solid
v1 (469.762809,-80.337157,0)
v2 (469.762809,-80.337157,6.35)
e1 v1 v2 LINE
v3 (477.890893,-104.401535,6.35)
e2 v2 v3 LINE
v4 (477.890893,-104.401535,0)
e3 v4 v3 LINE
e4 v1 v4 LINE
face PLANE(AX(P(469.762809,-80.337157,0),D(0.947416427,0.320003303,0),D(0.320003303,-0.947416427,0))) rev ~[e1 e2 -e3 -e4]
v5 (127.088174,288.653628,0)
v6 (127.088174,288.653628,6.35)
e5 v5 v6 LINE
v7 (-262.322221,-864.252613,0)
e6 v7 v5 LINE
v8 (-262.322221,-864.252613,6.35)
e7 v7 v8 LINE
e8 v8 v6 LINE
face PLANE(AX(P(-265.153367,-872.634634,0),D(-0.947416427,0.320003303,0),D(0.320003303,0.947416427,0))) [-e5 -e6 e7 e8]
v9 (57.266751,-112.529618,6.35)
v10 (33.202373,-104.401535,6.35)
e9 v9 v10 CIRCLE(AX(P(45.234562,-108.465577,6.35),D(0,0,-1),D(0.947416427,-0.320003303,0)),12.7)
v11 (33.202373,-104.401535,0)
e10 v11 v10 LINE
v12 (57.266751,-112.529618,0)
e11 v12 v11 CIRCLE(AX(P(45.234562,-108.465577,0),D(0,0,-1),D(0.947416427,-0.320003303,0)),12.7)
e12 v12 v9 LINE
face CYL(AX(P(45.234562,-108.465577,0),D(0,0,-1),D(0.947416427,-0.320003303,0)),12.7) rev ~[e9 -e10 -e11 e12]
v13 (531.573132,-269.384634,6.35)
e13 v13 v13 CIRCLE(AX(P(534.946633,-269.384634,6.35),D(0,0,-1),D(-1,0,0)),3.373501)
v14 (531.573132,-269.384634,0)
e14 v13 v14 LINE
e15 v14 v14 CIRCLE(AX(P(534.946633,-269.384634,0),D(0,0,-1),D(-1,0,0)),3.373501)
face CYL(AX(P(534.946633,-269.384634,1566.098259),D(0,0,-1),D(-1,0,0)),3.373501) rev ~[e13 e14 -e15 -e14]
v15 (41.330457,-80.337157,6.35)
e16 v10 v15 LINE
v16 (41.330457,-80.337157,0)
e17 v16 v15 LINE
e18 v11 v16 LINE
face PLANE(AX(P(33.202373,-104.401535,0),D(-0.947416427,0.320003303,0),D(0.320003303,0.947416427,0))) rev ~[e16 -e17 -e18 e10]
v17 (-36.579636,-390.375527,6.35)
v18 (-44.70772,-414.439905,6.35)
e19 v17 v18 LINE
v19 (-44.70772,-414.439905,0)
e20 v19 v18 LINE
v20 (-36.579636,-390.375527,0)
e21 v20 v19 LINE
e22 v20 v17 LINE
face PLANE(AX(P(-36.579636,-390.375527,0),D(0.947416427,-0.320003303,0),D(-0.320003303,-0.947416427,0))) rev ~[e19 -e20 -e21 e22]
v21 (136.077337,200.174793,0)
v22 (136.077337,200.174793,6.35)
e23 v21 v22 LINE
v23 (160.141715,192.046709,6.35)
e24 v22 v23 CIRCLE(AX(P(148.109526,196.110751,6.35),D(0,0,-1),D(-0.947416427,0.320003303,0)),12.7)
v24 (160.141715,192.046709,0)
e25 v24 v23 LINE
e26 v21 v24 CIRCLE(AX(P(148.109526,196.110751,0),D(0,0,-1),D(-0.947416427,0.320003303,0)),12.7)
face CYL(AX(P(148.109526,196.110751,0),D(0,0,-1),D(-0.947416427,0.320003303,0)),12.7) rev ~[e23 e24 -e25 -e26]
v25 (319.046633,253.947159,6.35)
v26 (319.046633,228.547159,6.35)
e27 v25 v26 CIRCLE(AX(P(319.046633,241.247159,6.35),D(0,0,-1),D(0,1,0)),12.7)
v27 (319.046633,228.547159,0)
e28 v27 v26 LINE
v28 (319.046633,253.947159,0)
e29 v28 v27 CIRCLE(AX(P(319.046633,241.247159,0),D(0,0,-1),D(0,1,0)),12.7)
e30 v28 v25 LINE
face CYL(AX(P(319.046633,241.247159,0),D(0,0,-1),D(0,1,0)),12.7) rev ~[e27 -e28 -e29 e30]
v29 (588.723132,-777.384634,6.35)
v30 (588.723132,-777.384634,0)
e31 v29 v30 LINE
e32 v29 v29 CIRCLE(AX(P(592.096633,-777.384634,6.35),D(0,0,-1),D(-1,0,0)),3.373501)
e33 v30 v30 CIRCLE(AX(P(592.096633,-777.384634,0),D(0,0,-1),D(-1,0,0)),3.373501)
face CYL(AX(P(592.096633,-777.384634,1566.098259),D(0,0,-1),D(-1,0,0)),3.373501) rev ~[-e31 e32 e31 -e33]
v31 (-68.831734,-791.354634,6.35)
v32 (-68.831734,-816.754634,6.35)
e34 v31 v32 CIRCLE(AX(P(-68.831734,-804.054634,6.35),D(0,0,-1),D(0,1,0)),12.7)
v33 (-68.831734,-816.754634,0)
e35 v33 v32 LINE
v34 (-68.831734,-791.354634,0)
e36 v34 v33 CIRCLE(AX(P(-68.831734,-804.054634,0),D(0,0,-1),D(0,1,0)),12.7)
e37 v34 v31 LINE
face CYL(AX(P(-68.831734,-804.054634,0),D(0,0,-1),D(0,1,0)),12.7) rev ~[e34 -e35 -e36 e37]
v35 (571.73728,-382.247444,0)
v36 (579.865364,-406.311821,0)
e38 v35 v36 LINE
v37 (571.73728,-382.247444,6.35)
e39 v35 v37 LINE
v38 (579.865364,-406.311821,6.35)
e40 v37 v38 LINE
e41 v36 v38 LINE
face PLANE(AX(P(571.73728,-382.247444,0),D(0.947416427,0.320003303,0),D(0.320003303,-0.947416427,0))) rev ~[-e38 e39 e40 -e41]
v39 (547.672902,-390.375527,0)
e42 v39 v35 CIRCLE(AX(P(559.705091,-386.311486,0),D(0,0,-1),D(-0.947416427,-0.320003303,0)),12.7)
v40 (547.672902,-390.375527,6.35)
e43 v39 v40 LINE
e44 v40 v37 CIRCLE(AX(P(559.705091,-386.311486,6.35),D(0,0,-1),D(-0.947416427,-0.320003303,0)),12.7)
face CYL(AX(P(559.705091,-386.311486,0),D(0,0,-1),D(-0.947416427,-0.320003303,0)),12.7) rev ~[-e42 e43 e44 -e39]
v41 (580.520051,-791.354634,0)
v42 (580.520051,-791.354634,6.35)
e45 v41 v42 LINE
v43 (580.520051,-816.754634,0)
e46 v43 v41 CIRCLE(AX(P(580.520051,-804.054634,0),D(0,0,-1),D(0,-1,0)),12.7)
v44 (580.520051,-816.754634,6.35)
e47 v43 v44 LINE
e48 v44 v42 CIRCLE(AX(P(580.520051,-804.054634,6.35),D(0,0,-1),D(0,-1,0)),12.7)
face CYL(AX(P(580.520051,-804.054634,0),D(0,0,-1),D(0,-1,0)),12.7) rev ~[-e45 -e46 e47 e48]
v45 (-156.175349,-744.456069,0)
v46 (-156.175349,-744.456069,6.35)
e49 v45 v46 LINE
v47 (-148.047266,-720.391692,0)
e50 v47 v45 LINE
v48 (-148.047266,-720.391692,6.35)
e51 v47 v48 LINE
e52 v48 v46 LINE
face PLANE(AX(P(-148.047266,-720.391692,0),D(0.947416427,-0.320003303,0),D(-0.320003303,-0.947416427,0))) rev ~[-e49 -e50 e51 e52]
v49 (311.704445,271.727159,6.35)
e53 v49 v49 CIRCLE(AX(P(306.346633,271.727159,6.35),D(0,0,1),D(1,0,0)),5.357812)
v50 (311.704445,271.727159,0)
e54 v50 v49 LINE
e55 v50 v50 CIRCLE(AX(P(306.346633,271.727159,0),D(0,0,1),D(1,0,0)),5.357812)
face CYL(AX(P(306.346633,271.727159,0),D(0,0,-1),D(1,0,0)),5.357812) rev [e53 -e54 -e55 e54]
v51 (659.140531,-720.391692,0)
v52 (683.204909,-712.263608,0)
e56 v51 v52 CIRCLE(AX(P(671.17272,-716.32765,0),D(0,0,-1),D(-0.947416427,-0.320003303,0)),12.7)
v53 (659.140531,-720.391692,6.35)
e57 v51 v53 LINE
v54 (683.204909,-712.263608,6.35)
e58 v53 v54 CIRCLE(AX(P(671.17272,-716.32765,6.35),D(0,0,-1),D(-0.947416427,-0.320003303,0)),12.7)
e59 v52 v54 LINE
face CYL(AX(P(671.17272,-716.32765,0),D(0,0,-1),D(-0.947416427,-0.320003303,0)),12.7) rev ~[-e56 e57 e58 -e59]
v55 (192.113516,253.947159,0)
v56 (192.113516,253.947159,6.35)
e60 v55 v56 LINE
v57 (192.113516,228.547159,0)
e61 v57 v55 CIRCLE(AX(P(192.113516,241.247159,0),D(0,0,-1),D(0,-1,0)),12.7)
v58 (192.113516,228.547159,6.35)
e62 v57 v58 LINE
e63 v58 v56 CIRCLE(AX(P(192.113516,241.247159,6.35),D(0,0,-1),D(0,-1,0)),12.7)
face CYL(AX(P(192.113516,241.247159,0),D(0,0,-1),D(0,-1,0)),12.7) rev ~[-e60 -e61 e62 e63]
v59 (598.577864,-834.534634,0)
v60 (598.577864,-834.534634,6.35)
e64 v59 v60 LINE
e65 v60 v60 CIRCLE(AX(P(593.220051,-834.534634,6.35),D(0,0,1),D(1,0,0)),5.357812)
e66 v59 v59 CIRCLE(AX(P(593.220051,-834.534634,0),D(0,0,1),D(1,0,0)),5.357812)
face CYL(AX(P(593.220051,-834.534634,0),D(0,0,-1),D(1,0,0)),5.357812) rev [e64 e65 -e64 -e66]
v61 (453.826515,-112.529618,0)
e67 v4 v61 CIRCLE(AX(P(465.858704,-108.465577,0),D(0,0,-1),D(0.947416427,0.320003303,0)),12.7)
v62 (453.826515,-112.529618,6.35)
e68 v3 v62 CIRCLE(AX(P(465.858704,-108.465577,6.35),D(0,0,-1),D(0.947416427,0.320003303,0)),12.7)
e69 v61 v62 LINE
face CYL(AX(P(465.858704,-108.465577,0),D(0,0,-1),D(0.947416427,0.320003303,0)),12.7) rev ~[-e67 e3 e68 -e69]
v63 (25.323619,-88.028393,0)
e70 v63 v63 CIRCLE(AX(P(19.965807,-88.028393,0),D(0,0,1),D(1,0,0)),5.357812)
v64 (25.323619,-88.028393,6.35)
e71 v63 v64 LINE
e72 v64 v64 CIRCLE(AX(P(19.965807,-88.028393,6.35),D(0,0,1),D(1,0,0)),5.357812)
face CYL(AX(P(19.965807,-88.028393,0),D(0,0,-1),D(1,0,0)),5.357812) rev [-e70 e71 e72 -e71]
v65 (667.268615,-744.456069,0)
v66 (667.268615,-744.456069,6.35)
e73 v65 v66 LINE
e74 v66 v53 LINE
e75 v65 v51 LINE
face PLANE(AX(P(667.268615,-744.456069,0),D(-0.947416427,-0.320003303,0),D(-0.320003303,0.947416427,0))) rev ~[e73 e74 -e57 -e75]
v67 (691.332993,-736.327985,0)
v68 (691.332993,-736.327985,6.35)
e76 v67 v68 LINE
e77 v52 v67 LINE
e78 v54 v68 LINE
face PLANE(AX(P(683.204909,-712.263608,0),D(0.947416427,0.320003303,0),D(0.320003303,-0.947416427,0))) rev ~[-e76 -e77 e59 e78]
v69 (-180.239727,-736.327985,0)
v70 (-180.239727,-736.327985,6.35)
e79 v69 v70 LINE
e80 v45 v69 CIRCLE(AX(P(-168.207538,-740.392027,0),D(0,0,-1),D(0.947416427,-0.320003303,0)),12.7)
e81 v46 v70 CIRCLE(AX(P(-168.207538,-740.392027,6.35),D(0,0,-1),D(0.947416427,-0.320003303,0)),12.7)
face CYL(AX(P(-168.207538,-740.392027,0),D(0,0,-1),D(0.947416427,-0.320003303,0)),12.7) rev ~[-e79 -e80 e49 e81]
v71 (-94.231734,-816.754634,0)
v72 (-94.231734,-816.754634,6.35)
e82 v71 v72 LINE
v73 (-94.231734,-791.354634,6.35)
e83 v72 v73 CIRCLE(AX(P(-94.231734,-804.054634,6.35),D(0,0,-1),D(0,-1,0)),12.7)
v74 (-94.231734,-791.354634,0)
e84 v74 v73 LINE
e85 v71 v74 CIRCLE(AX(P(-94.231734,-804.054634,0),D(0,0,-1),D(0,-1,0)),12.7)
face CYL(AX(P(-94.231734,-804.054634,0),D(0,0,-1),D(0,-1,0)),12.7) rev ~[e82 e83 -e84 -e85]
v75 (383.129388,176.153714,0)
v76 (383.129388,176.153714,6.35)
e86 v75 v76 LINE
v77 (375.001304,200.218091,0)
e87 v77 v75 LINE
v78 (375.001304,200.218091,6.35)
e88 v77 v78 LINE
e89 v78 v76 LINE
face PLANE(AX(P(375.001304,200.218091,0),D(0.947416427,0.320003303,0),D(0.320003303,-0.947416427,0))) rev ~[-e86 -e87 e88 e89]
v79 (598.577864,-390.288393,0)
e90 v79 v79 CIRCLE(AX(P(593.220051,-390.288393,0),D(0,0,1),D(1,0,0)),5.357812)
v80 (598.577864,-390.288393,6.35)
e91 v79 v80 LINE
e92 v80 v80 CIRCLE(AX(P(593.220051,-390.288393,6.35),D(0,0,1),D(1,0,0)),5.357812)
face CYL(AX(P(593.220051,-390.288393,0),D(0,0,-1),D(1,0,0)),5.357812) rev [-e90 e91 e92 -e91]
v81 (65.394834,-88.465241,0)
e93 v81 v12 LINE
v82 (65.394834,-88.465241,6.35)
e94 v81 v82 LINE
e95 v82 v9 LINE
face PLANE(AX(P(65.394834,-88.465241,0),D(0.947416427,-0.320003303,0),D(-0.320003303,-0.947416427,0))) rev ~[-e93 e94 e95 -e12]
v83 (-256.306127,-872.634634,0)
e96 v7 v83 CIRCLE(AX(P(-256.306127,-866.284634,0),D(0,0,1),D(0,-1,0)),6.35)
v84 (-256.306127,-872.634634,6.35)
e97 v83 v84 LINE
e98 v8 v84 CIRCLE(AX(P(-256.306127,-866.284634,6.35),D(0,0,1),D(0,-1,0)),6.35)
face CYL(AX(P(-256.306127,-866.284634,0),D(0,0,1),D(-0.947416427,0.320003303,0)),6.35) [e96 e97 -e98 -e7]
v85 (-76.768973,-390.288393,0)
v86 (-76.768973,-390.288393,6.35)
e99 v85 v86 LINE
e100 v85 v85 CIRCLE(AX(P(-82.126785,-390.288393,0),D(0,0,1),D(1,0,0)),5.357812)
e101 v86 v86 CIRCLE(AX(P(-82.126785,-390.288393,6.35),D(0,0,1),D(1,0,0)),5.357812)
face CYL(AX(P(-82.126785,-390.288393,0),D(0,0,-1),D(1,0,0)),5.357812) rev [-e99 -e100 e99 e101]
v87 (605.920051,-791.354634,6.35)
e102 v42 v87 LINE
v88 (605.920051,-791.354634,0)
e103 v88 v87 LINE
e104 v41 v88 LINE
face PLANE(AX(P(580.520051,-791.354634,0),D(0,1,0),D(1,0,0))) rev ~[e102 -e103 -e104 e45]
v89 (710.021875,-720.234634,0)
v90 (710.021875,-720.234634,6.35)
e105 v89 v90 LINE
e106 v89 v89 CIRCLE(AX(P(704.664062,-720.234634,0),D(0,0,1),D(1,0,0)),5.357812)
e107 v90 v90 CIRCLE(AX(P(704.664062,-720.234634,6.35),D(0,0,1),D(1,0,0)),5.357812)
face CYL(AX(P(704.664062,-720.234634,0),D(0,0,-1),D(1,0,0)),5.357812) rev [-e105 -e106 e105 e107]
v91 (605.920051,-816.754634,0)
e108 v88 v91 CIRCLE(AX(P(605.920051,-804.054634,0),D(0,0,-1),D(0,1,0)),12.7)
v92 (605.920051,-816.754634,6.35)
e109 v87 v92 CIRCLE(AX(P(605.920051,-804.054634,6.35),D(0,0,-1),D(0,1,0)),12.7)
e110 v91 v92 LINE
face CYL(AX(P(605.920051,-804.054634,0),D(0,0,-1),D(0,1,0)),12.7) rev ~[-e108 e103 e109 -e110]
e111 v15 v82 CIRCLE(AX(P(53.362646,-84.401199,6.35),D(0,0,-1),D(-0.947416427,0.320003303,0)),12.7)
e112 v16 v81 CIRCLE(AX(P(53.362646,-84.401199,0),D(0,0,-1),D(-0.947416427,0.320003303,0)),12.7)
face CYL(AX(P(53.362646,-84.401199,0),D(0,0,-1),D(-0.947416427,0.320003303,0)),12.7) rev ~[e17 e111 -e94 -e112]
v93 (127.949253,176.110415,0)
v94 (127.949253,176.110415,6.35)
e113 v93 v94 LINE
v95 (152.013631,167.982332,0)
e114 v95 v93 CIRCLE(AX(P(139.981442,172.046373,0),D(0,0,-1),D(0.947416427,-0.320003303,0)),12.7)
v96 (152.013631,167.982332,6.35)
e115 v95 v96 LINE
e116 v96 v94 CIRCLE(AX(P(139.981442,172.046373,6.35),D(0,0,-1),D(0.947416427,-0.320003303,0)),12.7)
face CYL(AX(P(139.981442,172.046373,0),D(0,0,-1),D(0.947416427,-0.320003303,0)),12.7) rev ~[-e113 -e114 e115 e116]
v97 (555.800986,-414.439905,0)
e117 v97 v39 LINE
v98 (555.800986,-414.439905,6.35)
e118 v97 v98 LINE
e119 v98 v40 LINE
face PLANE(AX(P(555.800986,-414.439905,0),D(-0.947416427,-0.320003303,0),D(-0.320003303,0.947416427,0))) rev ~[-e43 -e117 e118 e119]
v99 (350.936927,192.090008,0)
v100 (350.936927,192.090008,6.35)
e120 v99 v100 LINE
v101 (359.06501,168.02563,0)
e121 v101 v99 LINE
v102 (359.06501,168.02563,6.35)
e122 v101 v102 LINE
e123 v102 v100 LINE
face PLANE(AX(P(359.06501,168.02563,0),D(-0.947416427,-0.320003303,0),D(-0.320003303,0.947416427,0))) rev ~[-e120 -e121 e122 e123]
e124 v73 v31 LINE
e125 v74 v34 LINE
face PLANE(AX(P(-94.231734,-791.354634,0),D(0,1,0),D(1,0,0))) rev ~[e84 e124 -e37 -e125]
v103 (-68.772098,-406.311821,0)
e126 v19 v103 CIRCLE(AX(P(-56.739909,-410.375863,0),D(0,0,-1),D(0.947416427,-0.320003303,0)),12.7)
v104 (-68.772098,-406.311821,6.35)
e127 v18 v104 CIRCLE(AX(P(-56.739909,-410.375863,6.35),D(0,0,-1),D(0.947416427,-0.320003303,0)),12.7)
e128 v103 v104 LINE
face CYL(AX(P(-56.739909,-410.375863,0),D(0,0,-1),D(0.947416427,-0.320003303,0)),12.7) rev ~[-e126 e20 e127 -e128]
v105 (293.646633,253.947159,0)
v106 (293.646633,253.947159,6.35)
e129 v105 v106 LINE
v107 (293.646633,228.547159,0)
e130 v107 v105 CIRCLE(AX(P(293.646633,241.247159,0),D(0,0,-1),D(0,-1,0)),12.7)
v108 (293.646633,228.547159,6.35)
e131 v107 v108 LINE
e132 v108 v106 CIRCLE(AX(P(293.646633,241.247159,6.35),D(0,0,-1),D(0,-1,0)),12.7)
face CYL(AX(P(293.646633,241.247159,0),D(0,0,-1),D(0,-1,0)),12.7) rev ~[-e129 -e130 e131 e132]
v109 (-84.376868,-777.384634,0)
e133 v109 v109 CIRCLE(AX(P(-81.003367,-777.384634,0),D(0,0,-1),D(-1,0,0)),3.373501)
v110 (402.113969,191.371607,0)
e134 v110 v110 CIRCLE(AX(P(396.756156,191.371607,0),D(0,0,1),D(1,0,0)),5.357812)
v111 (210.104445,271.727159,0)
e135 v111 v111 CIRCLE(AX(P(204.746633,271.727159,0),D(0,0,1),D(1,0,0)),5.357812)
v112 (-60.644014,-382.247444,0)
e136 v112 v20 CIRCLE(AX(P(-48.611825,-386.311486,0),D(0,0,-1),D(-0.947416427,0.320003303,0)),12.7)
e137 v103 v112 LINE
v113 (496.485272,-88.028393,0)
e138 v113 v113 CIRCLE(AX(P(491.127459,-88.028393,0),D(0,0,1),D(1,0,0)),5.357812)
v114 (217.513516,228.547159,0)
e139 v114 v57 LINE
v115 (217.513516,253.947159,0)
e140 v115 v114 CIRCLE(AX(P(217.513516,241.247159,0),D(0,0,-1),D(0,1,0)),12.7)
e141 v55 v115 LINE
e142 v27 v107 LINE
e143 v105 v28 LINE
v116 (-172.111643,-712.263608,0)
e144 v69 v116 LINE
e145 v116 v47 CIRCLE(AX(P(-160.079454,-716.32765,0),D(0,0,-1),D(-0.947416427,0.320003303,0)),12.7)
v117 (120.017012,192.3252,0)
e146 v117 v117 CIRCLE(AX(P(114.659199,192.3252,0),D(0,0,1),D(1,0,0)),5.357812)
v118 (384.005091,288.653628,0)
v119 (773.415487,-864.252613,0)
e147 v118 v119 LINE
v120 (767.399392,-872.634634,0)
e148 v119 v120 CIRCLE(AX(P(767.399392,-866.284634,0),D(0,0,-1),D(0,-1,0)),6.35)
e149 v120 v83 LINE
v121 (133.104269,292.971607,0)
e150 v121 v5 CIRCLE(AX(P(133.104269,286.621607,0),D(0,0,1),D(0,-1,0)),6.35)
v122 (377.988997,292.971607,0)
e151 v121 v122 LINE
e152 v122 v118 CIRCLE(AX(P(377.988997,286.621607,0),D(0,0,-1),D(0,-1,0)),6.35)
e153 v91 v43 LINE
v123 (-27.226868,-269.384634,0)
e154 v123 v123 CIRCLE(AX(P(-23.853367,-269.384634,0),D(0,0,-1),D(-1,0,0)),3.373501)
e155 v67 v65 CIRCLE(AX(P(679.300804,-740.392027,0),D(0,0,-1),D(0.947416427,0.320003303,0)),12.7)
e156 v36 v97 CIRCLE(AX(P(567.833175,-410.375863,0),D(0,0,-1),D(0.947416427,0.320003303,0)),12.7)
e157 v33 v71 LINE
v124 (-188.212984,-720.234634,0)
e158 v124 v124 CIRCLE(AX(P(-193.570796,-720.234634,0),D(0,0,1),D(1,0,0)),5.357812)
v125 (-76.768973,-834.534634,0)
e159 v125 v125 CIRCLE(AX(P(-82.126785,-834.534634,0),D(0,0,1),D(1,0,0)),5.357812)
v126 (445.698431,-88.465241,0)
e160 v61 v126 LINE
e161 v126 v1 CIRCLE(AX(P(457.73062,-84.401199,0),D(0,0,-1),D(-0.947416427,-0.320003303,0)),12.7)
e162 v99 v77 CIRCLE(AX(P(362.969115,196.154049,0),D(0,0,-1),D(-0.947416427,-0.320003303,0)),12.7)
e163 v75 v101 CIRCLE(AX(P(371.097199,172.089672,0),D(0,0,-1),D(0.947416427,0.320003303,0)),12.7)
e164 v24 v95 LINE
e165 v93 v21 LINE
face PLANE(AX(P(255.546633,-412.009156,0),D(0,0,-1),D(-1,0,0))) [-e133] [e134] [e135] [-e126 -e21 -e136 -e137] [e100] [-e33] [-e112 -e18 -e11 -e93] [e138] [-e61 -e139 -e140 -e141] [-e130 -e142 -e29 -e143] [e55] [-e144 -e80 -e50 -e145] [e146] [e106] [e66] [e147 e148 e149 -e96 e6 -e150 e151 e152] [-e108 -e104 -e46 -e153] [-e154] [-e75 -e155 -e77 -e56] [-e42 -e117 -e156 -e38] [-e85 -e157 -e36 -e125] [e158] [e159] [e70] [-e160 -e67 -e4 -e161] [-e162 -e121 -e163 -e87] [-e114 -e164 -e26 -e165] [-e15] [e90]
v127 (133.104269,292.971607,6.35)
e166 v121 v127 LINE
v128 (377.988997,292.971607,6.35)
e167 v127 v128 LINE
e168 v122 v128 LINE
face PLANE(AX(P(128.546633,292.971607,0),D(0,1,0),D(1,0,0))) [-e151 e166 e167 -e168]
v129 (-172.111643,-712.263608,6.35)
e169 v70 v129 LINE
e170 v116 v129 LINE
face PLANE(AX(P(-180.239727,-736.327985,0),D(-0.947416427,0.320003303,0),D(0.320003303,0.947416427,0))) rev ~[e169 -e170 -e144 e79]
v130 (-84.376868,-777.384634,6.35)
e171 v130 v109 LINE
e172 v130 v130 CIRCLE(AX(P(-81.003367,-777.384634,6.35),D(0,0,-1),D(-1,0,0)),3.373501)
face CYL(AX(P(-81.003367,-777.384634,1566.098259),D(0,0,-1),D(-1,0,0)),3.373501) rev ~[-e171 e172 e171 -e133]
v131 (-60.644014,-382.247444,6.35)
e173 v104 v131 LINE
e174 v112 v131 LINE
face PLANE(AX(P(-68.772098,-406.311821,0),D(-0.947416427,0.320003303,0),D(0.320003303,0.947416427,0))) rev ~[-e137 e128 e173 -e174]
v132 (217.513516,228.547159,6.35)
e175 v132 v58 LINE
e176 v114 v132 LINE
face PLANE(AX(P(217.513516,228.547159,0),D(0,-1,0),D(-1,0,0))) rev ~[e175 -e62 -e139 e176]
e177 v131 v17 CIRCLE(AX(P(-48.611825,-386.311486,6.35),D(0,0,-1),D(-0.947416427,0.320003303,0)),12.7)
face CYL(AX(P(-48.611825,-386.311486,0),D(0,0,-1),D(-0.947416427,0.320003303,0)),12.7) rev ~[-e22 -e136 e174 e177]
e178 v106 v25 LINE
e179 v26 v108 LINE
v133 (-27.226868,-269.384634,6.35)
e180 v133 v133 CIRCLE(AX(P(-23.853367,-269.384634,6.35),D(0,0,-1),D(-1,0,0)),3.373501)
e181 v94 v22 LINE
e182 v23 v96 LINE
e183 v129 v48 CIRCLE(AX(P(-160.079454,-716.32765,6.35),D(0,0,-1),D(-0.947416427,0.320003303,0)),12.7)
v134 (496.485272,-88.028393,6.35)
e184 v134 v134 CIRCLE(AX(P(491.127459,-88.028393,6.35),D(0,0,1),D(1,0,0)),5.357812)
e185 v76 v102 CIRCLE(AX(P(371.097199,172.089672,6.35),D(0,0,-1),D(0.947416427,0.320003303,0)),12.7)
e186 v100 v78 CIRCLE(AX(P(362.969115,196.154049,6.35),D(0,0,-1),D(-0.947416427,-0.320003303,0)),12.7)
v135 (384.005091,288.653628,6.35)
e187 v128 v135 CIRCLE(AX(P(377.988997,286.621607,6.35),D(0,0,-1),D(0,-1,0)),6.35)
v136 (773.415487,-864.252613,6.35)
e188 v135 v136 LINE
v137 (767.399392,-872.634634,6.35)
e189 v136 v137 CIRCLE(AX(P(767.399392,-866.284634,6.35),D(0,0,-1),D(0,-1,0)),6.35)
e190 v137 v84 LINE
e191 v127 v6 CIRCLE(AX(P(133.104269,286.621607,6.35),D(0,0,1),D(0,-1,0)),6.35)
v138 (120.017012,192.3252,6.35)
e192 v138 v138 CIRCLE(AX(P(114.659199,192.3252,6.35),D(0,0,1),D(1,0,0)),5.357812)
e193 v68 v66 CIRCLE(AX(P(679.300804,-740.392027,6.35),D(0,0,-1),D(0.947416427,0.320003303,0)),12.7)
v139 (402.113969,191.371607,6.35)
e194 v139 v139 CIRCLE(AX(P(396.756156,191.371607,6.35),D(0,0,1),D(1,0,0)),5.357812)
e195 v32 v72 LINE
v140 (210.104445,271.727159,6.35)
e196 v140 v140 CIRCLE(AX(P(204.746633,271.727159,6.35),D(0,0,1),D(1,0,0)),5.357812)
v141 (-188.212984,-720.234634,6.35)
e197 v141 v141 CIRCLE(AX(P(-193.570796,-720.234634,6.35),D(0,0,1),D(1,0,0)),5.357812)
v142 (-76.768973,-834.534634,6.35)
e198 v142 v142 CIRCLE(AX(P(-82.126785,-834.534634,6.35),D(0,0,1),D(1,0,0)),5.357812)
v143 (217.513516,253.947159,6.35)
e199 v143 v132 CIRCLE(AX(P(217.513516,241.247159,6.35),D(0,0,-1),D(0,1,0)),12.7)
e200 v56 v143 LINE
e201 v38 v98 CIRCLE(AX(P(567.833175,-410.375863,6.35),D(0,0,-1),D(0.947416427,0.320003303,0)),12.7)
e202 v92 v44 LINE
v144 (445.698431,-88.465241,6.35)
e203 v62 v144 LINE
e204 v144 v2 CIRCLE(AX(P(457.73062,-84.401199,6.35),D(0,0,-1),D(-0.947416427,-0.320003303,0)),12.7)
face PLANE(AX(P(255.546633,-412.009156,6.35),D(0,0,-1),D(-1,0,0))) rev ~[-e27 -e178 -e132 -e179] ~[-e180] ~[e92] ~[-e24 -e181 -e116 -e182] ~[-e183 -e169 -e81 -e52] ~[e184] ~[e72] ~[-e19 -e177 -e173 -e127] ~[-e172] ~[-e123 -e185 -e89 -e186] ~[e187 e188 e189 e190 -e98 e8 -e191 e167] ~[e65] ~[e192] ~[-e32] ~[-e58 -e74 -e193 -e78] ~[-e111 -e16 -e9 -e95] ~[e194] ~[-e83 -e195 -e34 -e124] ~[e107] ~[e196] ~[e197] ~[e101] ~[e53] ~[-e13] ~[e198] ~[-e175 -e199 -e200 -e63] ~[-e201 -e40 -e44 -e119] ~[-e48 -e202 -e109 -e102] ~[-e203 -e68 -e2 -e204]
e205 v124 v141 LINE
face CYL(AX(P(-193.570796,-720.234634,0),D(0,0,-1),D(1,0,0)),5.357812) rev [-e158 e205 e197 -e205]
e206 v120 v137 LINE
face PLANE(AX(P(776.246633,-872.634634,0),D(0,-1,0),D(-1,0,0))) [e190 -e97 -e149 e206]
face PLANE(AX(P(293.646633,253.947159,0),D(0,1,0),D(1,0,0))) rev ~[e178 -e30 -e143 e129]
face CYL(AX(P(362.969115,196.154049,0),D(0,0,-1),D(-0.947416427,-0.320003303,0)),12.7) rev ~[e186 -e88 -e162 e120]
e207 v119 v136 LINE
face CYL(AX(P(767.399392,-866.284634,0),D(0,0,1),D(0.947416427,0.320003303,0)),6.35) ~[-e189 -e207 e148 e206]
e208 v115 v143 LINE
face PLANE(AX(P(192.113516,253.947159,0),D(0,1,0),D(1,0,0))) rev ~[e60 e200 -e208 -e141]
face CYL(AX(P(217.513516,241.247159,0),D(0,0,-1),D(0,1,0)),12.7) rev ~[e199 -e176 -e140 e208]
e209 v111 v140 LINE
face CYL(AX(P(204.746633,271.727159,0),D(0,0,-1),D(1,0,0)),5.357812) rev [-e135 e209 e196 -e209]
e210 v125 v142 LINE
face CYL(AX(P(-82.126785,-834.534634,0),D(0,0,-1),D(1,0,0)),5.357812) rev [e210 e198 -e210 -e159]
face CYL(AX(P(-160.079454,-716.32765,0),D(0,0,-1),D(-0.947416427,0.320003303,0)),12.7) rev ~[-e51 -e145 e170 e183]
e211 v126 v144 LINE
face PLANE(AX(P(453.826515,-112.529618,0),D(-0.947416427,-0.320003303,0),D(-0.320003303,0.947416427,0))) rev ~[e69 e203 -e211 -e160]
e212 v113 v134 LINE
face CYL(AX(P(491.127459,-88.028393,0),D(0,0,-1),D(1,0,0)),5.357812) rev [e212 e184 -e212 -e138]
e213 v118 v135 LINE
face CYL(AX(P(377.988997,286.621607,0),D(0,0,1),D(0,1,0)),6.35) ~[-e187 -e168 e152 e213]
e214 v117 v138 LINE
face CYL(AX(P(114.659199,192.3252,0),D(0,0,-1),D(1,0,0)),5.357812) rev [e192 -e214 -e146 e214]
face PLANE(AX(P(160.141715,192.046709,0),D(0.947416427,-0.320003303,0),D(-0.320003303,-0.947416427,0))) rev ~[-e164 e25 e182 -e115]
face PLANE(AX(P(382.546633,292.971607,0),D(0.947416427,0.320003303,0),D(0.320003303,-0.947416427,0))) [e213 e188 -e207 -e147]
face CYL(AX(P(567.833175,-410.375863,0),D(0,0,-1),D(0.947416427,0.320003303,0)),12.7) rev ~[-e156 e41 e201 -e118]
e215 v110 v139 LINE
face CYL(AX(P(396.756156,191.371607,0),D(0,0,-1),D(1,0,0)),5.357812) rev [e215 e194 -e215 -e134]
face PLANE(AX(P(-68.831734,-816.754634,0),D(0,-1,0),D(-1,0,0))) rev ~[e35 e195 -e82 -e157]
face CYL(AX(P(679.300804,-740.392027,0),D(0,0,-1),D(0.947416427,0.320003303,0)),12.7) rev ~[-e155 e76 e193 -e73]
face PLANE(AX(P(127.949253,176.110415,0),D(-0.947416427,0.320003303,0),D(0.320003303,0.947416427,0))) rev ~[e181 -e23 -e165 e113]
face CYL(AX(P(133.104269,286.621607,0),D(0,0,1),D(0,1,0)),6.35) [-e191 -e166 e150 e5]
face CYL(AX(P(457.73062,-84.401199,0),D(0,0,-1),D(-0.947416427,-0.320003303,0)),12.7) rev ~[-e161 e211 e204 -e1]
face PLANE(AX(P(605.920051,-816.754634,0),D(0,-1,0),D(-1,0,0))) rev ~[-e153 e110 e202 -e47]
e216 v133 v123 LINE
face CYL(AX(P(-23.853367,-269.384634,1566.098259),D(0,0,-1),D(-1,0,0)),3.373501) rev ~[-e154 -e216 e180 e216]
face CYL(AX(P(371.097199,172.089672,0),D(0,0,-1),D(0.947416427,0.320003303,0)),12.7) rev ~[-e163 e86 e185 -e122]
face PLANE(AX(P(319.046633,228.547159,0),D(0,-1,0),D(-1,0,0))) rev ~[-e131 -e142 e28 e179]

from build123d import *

# Parameters (mm, degrees)
SKETCH1_R                        = 5.3578125
BOSS_EXTRUDE1_DEPTH              = 6.35
FILLET1_R                        = 6.35
F_17_64_0_26563_DIAMETER_HOLE1_D = 6.747002


with BuildPart() as part:
    # Sketch1 → Boss-Extrude1 (new body)
    with BuildSketch(Plane.XY):
        Polygon((128.546632935, 292.971606529), (382.546632935, 292.971606529), (776.246632935, -872.634633965), (-265.153367065, -872.634633965), align=None)
        with Locations((396.756156044, 191.371606529)):
            Circle(SKETCH1_R, mode=Mode.SUBTRACT)
        with Locations((114.659199441, 192.325199783)):
            Circle(SKETCH1_R, mode=Mode.SUBTRACT)
        with Locations((-193.570796303, -720.234633965)):
            Circle(SKETCH1_R, mode=Mode.SUBTRACT)
        with Locations((704.664062174, -720.234633965)):
            Circle(SKETCH1_R, mode=Mode.SUBTRACT)
        with Locations((491.127459301, -88.028393471)):
            Circle(SKETCH1_R, mode=Mode.SUBTRACT)
        with Locations((593.220051006, -390.288393471)):
            Circle(SKETCH1_R, mode=Mode.SUBTRACT)
        with Locations((19.96580657, -88.028393471)):
            Circle(SKETCH1_R, mode=Mode.SUBTRACT)
        with Locations((-82.126785136, -390.288393471)):
            Circle(SKETCH1_R, mode=Mode.SUBTRACT)
        with Locations((306.346632935, 271.727158802)):
            Circle(SKETCH1_R, mode=Mode.SUBTRACT)
        with Locations((204.746632935, 271.727158802)):
            Circle(SKETCH1_R, mode=Mode.SUBTRACT)
        with Locations((-82.126785136, -834.534633965)):
            Circle(SKETCH1_R, mode=Mode.SUBTRACT)
        with Locations((593.220051006, -834.534633965)):
            Circle(SKETCH1_R, mode=Mode.SUBTRACT)
        with BuildLine():
            Line((-180.239726648, -736.327985402), (-172.111642745, -712.26360816))
            ThreePointArc((-172.111642745, -712.26360816), (-156.015412172, -704.29546149), (-148.047265502, -720.391692063))
            Line((-148.047265502, -720.391692063), (-156.175349405, -744.456069305))
            ThreePointArc((-156.175349405, -744.456069305), (-172.271579978, -752.424215975), (-180.239726648, -736.327985402))
        make_face(mode=Mode.SUBTRACT)
        with BuildLine():
            Line((-94.231734473, -791.354633965), (-68.831734473, -791.354633965))
            ThreePointArc((-68.831734473, -791.354633965), (-56.131734473, -804.054633965), (-68.831734473, -816.754633965))
            Line((-68.831734473, -816.754633965), (-94.231734473, -816.754633965))
            ThreePointArc((-94.231734473, -816.754633965), (-106.931734473, -804.054633965), (-94.231734473, -791.354633965))
        make_face(mode=Mode.SUBTRACT)
        with BuildLine():
            Line((580.520051006, -791.354633965), (605.920051006, -791.354633965))
            ThreePointArc((605.920051006, -791.354633965), (618.620051006, -804.054633965), (605.920051006, -816.754633965))
            Line((605.920051006, -816.754633965), (580.520051006, -816.754633965))
            ThreePointArc((580.520051006, -816.754633965), (567.820051006, -804.054633965), (580.520051006, -791.354633965))
        make_face(mode=Mode.SUBTRACT)
        with BuildLine():
            Line((-68.772097635, -406.311820835), (-60.644013732, -382.247443592))
            ThreePointArc((-60.644013732, -382.247443592), (-44.54778316, -374.279296923), (-36.57963649, -390.375527495))
            Line((-36.57963649, -390.375527495), (-44.707720392, -414.439904738))
            ThreePointArc((-44.707720392, -414.439904738), (-60.803950965, -422.408051408), (-68.772097635, -406.311820835))
        make_face(mode=Mode.SUBTRACT)
        with BuildLine():
            Line((33.202373314, -104.401534553), (41.330457217, -80.33715731))
            ThreePointArc((41.330457217, -80.33715731), (57.426687789, -72.36901064), (65.394834459, -88.465241213))
            Line((65.394834459, -88.465241213), (57.266750557, -112.529618456))
            ThreePointArc((57.266750557, -112.529618456), (41.170519984, -120.497765125), (33.202373314, -104.401534553))
        make_face(mode=Mode.SUBTRACT)
        with BuildLine():
            Line((127.949253412, 176.110415433), (136.077337315, 200.174792676))
            ThreePointArc((136.077337315, 200.174792676), (152.173567887, 208.142939345), (160.141714557, 192.046708773))
            Line((160.141714557, 192.046708773), (152.013630654, 167.98233153))
            ThreePointArc((152.013630654, 167.98233153), (135.917400082, 160.01418486), (127.949253412, 176.110415433))
        make_face(mode=Mode.SUBTRACT)
        with BuildLine():
            Line((192.113515822, 253.947158802), (217.513515822, 253.947158802))
            ThreePointArc((217.513515822, 253.947158802), (230.213515822, 241.247158802), (217.513515822, 228.547158802))
            Line((217.513515822, 228.547158802), (192.113515822, 228.547158802))
            ThreePointArc((192.113515822, 228.547158802), (179.413515822, 241.247158802), (192.113515822, 253.947158802))
        make_face(mode=Mode.SUBTRACT)
        with BuildLine():
            Line((293.646632935, 253.947158802), (319.046632935, 253.947158802))
            ThreePointArc((319.046632935, 253.947158802), (331.746632935, 241.247158802), (319.046632935, 228.547158802))
            Line((319.046632935, 228.547158802), (293.646632935, 228.547158802))
            ThreePointArc((293.646632935, 228.547158802), (280.946632935, 241.247158802), (293.646632935, 253.947158802))
        make_face(mode=Mode.SUBTRACT)
        with BuildLine():
            Line((359.065010443, 168.025630302), (350.936926541, 192.090007545))
            ThreePointArc((350.936926541, 192.090007545), (358.905073211, 208.186238118), (375.001303783, 200.218091448))
            Line((375.001303783, 200.218091448), (383.129387686, 176.153714205))
            ThreePointArc((383.129387686, 176.153714205), (375.161241016, 160.057483633), (359.065010443, 168.025630302))
        make_face(mode=Mode.SUBTRACT)
        with BuildLine():
            Line((453.826515314, -112.529618456), (445.698431411, -88.465241213))
            ThreePointArc((445.698431411, -88.465241213), (453.666578081, -72.36901064), (469.762808654, -80.33715731))
            Line((469.762808654, -80.33715731), (477.890892557, -104.401534553))
            ThreePointArc((477.890892557, -104.401534553), (469.922745887, -120.497765125), (453.826515314, -112.529618456))
        make_face(mode=Mode.SUBTRACT)
        with BuildLine():
            Line((555.800986263, -414.439904738), (547.67290236, -390.375527495))
            ThreePointArc((547.67290236, -390.375527495), (555.64104903, -374.279296923), (571.737279603, -382.247443592))
            Line((571.737279603, -382.247443592), (579.865363506, -406.311820835))
            ThreePointArc((579.865363506, -406.311820835), (571.897216836, -422.408051408), (555.800986263, -414.439904738))
        make_face(mode=Mode.SUBTRACT)
        with BuildLine():
            Line((667.268615276, -744.456069305), (659.140531373, -720.391692063))
            ThreePointArc((659.140531373, -720.391692063), (667.108678043, -704.29546149), (683.204908616, -712.26360816))
            Line((683.204908616, -712.26360816), (691.332992518, -736.327985402))
            ThreePointArc((691.332992518, -736.327985402), (683.364845848, -752.424215975), (667.268615276, -744.456069305))
        make_face(mode=Mode.SUBTRACT)
    extrude(amount=BOSS_EXTRUDE1_DEPTH)

    # Fillet1
    fillet1_edges = [part.edges().sort_by_distance(p)[0] for p in [
        (128.546632935, 292.971606529, 3.175),
        (382.546632935, 292.971606529, 3.175),
        (776.246632935, -872.634633965, 3.175),
        (-265.153367065, -872.634633965, 3.175),
    ]]
    fillet(fillet1_edges, radius=FILLET1_R)

    # 17/64 (0.26563) Diameter Hole1 (through all)
    with Locations(Plane.XY.offset(6.35)):
        with Locations((-23.853367065, -269.384633965), (534.946632935, -269.384633965), (592.096632935, -777.384633965), (-81.003367065, -777.384633965)):
            Hole(F_17_64_0_26563_DIAMETER_HOLE1_D / 2)


solid = part.part
